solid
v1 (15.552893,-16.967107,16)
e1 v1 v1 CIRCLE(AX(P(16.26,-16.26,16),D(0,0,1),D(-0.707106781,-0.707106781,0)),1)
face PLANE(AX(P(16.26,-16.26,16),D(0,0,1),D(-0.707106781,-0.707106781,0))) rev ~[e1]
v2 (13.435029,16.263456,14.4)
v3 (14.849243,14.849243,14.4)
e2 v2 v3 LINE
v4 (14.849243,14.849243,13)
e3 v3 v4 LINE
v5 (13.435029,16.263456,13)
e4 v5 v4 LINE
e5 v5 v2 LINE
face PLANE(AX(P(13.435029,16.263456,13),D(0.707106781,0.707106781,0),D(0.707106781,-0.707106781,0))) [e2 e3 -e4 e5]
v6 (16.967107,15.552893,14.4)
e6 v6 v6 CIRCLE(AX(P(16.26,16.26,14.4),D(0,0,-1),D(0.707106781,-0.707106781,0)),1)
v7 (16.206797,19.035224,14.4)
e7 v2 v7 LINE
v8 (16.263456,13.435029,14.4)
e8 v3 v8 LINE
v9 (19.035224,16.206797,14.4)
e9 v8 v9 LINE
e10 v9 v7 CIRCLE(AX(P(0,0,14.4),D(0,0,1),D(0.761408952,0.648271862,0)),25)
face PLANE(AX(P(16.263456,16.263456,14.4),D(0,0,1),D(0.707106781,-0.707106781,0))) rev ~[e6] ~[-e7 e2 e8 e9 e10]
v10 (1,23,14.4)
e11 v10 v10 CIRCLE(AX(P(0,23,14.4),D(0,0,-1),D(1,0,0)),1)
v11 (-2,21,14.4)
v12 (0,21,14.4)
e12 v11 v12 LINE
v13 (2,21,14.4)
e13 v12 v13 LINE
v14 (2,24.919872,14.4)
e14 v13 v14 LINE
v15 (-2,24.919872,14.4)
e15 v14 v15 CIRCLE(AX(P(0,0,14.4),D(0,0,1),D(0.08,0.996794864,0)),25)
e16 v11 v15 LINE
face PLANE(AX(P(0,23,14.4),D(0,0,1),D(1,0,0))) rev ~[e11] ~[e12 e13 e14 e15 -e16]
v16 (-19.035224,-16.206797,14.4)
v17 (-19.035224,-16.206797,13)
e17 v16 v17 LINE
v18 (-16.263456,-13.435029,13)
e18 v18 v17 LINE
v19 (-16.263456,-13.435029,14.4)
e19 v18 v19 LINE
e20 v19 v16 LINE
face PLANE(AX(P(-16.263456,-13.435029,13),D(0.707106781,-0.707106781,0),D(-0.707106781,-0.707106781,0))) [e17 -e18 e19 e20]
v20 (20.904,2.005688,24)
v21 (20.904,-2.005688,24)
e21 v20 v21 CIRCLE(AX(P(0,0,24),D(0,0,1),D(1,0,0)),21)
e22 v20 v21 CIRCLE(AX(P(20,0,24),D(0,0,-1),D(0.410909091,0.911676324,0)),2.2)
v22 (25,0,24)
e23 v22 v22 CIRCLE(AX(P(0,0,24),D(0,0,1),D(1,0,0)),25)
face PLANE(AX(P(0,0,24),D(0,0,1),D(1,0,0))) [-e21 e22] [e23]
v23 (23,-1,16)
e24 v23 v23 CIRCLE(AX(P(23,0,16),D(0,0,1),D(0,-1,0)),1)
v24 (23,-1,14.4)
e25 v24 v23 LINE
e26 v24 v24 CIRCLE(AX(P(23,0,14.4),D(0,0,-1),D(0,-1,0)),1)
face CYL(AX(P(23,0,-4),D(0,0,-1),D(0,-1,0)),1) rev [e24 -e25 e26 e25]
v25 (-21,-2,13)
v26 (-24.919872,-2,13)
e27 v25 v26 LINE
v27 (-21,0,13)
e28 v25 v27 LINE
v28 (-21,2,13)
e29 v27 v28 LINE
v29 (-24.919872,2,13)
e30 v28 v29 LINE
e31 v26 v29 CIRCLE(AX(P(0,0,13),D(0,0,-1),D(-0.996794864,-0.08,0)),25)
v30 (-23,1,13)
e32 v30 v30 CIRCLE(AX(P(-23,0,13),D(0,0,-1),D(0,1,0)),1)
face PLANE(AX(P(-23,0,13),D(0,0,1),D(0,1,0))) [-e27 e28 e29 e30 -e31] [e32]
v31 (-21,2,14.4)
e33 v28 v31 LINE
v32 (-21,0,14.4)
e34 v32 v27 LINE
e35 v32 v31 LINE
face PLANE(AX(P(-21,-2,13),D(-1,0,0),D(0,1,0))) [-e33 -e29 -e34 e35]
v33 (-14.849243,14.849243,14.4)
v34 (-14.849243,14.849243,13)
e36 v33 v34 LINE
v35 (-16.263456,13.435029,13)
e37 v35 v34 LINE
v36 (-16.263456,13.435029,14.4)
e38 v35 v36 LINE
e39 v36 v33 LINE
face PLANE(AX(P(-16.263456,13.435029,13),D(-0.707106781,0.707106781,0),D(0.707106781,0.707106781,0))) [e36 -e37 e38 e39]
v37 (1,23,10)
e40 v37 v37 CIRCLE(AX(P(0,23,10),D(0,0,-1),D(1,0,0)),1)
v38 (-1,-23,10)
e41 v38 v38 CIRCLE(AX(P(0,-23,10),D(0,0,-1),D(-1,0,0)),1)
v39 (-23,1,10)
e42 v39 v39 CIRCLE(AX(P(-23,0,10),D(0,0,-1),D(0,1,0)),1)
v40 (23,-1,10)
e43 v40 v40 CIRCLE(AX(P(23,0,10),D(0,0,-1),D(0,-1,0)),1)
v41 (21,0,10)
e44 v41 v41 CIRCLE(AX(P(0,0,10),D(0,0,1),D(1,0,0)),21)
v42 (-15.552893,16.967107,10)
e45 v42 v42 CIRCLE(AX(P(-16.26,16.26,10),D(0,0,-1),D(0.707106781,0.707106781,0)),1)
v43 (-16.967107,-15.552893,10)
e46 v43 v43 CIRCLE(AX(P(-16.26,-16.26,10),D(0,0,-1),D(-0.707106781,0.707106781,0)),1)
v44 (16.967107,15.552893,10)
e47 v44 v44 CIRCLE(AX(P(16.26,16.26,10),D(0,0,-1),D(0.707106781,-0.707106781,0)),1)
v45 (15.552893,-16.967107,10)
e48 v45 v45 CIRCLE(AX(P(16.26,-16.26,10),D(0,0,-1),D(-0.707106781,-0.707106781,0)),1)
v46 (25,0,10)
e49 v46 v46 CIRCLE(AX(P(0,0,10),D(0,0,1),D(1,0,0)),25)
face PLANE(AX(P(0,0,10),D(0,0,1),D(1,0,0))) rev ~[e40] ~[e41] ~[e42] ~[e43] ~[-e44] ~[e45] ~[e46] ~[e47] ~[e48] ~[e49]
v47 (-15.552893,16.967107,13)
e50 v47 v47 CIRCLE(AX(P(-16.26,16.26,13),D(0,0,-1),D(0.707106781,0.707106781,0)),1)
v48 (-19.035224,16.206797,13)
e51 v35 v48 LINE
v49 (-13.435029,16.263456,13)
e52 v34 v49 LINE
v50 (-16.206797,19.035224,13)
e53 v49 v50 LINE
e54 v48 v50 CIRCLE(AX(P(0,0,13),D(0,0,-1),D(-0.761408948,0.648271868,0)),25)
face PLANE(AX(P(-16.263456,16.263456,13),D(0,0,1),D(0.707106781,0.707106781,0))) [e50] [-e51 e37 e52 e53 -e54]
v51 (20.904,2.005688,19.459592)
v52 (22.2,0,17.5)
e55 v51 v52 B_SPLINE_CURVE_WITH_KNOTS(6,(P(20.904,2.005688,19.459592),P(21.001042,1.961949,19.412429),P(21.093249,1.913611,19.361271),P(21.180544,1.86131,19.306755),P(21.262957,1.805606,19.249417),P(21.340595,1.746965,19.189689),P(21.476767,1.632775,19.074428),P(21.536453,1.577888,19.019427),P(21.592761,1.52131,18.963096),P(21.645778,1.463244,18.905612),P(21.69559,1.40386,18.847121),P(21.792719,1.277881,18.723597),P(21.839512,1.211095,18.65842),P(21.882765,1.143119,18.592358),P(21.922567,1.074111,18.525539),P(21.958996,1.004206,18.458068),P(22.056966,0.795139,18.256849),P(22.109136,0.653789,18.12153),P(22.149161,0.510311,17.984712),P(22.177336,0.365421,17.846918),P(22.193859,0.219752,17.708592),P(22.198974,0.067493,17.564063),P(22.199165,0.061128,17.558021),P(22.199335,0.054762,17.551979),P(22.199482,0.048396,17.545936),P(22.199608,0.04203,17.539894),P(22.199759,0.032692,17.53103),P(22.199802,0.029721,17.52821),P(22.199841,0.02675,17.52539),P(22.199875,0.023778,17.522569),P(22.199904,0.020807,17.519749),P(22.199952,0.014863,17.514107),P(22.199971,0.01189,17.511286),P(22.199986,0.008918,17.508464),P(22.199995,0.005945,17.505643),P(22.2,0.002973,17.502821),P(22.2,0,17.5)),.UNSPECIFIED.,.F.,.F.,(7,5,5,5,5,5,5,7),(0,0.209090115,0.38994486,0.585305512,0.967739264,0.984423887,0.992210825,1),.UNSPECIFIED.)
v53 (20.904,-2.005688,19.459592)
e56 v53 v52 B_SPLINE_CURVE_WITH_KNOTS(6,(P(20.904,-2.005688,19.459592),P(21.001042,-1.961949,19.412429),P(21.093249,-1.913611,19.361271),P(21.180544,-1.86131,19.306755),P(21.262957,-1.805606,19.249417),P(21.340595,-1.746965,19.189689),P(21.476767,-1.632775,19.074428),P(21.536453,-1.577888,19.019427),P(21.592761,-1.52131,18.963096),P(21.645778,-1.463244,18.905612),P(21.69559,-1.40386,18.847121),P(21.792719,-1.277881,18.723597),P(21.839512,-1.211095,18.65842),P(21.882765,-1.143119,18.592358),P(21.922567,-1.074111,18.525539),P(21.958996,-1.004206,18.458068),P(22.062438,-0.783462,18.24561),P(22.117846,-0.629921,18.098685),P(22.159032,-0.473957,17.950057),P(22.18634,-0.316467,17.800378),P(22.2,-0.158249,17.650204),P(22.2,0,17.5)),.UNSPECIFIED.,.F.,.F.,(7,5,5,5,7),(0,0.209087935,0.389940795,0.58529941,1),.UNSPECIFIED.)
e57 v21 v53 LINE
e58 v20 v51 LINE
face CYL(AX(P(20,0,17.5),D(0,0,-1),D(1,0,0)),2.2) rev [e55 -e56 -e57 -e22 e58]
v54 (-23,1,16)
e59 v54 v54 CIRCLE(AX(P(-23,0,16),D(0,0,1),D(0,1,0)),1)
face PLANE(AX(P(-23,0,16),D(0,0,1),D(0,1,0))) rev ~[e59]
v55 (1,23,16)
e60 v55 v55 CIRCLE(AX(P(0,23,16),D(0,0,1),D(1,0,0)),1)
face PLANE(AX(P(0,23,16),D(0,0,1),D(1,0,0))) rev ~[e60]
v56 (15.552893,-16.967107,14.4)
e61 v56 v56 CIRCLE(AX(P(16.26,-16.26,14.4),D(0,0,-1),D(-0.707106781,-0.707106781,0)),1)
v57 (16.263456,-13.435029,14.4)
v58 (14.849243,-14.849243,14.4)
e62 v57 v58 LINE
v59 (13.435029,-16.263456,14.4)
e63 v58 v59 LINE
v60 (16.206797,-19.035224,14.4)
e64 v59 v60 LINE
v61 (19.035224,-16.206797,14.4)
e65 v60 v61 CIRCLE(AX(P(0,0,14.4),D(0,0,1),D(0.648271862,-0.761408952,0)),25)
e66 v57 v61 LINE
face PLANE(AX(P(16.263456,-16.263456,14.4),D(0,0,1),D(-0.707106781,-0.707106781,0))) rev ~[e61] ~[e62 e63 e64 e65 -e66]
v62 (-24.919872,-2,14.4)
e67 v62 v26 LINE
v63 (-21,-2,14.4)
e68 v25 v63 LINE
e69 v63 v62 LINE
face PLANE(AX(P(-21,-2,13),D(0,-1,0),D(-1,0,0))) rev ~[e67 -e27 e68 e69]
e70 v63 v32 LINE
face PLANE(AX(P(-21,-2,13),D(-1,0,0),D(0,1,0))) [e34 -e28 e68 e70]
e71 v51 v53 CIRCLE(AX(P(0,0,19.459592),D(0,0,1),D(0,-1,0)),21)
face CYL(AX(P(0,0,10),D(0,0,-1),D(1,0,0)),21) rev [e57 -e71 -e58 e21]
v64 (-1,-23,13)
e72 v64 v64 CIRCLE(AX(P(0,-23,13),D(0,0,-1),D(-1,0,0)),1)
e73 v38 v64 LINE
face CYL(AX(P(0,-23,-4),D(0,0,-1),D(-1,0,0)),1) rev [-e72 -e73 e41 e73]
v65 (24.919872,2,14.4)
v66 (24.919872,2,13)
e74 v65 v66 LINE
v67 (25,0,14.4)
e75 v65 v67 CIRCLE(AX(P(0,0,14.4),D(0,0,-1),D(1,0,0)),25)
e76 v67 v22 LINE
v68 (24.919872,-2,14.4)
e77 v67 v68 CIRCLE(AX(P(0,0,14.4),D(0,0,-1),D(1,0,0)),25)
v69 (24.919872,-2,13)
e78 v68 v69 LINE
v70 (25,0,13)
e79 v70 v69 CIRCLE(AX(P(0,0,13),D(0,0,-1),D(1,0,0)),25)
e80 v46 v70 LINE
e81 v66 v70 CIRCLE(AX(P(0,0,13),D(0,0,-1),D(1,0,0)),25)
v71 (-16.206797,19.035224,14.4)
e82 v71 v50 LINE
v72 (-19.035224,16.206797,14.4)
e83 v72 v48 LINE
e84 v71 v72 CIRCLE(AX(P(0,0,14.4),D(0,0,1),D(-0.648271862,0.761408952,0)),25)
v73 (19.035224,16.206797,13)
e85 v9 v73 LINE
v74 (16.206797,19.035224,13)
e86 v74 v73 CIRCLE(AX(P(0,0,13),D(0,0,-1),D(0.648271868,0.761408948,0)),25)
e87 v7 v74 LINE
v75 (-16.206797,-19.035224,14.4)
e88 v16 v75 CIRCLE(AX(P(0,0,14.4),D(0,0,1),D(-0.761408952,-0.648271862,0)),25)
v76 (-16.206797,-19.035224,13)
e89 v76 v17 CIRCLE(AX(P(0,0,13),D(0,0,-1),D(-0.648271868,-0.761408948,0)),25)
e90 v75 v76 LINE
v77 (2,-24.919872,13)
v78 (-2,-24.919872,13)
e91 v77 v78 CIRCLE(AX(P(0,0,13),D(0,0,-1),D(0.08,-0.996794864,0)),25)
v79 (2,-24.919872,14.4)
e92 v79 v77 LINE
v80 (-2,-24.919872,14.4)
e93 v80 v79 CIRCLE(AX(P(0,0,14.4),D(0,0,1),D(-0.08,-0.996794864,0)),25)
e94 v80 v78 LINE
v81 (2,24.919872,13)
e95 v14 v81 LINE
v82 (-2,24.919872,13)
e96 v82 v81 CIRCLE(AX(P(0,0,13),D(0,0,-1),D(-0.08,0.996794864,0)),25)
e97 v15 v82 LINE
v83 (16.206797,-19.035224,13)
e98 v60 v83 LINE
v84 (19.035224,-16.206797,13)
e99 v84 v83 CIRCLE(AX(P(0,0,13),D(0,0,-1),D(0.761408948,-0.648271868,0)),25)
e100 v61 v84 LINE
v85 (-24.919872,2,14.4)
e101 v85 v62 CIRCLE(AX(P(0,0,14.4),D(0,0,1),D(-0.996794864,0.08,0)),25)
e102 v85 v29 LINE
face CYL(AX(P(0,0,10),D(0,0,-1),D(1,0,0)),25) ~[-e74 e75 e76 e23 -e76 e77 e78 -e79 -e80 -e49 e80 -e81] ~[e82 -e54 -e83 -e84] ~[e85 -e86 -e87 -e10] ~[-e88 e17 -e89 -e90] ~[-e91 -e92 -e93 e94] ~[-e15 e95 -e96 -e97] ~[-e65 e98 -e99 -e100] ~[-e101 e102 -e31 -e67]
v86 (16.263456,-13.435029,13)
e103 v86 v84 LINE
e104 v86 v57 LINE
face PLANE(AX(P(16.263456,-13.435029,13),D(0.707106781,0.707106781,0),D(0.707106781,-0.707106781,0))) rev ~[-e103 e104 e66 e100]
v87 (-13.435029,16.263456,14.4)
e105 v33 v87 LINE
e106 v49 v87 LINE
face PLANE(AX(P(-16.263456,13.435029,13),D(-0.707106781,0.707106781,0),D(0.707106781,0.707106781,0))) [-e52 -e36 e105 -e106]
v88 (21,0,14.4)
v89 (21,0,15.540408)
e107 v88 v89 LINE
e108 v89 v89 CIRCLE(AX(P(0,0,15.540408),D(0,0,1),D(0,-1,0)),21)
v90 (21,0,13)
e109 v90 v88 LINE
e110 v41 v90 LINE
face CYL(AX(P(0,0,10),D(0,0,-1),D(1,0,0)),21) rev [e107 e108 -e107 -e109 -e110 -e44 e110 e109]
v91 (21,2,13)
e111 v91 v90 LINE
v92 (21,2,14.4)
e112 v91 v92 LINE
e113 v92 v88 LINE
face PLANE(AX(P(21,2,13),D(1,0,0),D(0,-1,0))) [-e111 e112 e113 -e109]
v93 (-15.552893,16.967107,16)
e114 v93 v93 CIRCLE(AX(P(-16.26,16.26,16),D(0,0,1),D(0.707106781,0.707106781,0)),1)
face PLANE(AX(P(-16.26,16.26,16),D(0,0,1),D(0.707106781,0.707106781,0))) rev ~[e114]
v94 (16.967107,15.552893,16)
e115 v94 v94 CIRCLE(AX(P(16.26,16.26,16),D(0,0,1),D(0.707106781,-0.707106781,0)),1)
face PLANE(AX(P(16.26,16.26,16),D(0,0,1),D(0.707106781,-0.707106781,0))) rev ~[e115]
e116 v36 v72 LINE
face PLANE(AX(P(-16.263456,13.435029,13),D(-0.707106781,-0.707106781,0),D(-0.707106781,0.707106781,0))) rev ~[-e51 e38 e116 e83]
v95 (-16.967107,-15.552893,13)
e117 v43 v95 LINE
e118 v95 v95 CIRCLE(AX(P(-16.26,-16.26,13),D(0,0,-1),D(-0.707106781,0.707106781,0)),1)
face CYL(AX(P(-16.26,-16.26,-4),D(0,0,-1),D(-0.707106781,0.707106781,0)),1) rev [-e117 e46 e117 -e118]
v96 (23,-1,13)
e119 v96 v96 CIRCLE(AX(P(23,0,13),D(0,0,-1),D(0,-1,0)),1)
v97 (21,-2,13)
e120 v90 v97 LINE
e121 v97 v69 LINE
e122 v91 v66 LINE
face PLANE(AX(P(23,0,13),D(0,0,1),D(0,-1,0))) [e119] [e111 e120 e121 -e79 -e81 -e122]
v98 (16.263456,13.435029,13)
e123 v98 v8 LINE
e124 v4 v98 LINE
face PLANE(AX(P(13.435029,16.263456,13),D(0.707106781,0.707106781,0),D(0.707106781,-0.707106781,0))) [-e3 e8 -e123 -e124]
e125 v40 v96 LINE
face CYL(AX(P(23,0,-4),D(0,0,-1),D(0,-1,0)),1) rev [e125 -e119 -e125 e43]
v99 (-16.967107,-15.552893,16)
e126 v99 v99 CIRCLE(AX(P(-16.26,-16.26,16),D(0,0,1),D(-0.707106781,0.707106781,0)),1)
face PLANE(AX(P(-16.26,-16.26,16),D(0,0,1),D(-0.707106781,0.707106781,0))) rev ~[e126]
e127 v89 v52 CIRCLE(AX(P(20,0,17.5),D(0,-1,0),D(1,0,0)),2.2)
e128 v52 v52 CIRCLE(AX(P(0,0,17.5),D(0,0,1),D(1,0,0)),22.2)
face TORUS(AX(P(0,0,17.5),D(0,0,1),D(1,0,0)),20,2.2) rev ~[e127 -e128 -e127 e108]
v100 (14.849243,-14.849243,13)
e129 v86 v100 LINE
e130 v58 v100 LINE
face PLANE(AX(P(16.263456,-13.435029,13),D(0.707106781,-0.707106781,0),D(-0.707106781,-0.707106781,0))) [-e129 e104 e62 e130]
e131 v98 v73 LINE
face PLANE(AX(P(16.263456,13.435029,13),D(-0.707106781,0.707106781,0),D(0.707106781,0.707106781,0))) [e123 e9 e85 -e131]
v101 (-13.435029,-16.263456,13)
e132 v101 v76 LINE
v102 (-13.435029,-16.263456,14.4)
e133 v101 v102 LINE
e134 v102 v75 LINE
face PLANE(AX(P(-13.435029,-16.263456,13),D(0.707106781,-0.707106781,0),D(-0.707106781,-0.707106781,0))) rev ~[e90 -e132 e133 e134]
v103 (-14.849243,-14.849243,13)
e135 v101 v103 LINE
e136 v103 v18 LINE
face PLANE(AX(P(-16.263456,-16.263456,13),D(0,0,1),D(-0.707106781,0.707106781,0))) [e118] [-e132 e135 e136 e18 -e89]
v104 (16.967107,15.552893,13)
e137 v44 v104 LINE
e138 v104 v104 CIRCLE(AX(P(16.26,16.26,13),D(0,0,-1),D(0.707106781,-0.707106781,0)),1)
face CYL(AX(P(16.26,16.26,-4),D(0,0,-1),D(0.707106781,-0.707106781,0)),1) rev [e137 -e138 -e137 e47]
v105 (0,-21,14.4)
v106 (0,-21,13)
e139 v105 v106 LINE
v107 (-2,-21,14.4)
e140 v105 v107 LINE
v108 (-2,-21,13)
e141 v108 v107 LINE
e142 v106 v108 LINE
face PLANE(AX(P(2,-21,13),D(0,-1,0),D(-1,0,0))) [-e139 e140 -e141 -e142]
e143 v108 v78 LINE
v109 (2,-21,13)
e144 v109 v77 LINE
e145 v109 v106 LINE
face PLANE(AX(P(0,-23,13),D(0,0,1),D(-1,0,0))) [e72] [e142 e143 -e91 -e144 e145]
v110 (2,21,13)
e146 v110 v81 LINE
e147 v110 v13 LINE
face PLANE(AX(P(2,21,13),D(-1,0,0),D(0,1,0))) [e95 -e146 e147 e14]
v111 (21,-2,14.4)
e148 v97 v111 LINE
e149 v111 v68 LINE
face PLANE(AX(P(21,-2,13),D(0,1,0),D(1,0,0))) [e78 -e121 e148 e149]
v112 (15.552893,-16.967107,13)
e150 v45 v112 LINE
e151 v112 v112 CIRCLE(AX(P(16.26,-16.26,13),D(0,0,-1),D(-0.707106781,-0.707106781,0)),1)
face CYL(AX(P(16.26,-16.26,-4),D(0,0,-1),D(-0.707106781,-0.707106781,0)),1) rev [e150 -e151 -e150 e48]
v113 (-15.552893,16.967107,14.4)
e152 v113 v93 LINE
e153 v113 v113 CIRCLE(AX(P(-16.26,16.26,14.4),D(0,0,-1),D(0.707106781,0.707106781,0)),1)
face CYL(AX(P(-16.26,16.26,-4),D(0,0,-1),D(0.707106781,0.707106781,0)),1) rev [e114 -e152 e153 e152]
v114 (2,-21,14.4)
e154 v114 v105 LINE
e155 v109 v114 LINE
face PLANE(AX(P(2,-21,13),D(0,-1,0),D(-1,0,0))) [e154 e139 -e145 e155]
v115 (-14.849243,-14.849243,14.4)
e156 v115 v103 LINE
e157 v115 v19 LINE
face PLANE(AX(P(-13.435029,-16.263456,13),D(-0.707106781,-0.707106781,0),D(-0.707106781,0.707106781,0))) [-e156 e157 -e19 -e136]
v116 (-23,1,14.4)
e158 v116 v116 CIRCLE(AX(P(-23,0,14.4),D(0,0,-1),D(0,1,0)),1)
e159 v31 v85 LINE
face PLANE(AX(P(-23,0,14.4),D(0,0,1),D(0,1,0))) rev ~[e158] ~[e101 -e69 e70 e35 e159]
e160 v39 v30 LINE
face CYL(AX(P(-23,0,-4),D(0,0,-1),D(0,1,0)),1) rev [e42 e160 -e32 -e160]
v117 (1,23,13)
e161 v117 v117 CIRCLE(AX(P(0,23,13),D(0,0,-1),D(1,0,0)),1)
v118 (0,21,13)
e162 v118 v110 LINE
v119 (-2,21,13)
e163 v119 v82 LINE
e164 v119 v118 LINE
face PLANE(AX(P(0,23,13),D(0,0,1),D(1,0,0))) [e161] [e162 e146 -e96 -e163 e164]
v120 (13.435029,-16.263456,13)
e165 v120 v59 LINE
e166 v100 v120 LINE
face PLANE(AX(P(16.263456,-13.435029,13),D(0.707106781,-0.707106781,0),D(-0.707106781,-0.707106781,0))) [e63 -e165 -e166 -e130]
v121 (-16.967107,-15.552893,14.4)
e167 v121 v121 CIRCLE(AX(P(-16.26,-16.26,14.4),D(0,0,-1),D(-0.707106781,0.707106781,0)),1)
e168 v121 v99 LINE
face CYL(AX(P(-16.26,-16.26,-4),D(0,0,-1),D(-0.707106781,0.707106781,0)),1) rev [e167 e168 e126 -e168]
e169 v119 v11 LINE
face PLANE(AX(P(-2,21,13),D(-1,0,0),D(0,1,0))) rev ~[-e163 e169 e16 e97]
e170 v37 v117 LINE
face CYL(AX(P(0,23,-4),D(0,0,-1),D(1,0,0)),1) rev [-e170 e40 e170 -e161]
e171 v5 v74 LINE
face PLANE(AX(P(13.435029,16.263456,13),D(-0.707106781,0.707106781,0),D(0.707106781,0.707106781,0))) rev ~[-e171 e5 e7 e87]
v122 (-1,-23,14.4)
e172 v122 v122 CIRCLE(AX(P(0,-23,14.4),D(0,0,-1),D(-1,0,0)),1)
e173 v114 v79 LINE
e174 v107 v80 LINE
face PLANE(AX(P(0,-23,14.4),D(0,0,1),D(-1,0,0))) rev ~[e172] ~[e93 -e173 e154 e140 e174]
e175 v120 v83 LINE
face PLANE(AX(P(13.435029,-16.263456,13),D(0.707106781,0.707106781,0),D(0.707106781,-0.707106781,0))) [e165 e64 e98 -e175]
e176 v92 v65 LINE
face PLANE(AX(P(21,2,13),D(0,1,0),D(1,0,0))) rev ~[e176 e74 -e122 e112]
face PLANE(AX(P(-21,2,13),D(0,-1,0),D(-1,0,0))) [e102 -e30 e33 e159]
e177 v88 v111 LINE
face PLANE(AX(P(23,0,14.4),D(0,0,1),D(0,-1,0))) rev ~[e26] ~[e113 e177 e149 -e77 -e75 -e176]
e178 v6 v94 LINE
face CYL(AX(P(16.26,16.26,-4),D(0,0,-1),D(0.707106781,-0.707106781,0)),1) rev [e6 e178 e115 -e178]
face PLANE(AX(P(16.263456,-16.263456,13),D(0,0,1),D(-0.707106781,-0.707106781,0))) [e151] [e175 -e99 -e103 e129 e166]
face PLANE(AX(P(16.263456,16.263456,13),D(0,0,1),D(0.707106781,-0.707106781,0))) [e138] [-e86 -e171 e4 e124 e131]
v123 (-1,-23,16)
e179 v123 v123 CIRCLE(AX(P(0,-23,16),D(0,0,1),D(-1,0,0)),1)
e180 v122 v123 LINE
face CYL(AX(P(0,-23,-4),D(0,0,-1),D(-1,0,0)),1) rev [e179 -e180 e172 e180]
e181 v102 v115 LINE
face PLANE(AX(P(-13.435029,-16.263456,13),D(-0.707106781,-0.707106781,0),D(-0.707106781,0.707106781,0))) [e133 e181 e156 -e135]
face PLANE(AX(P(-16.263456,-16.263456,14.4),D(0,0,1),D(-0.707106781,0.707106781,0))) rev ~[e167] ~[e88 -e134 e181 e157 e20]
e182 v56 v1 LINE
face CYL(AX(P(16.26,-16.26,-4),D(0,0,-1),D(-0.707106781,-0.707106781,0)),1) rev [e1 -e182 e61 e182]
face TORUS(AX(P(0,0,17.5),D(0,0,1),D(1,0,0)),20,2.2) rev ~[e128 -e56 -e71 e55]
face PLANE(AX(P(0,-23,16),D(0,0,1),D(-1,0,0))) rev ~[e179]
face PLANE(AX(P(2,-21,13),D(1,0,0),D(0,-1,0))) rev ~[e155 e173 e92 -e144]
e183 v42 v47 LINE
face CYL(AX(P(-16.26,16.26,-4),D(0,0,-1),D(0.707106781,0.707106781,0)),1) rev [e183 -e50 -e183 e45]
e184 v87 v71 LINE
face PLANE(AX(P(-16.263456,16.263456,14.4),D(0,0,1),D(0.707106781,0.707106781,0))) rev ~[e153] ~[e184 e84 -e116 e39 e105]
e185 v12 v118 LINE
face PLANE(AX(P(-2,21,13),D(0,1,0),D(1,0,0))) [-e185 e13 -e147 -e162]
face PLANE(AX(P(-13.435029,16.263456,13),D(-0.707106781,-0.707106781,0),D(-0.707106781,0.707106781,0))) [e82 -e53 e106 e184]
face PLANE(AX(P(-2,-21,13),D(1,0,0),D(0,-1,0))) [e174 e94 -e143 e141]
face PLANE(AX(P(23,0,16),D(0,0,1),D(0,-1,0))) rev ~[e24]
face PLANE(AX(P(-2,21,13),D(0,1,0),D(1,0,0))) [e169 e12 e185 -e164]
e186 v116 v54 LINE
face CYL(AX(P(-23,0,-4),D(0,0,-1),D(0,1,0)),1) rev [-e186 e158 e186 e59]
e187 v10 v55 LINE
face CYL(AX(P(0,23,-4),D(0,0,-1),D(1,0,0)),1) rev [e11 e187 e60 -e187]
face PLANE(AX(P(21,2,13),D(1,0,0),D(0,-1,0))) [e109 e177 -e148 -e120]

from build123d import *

# Parameters (mm, degrees)
CYLINDER2755_R               = 2.2
CYLINDER2755_DEPTH           = 10
CYLINDER2763_R               = 1
CYLINDER2763_DEPTH           = 20
CYLINDER2763_PLACEMENT_ANGLE = 45
CYLINDER2762_R               = 1
CYLINDER2762_DEPTH           = 20
CYLINDER2760_R               = 1
CYLINDER2760_DEPTH           = 20
CYLINDER2761_R               = 1
CYLINDER2761_DEPTH           = 20
CYLINDER2761_PLACEMENT_ANGLE = 225
CYLINDER2759_R               = 1
CYLINDER2759_DEPTH           = 20
CYLINDER2759_PLACEMENT_ANGLE = 135
CYLINDER2757_R               = 1
CYLINDER2757_DEPTH           = 20
CYLINDER2757_PLACEMENT_ANGLE = 45
CYLINDER2758_R               = 1
CYLINDER2758_DEPTH           = 20
CYLINDER2756_R               = 1
CYLINDER2756_DEPTH           = 20
BOX953_W                     = 4
BOX953_H                     = 4
BOX953_DEPTH                 = 1.4
BOX953_PLACEMENT_ANGLE       = 45
BOX954_W                     = 4
BOX954_H                     = 4
BOX954_DEPTH                 = 1.4
BOX955_W                     = 4
BOX955_H                     = 4
BOX955_DEPTH                 = 1.4
BOX955_PLACEMENT_ANGLE       = 135
BOX956_W                     = 4
BOX956_H                     = 4
BOX956_DEPTH                 = 1.4
BOX957_W                     = 4
BOX957_H                     = 4
BOX957_DEPTH                 = 1.4
BOX957_PLACEMENT_ANGLE       = 225
BOX958_W                     = 4
BOX958_H                     = 4
BOX958_DEPTH                 = 1.4
BOX959_W                     = 4
BOX959_H                     = 4
BOX959_DEPTH                 = 1.4
BOX959_PLACEMENT_ANGLE       = 45
BOX952_W                     = 4
BOX952_H                     = 4
BOX952_DEPTH                 = 1.4
TORUS006_R                   = 2.2
TUBE134_R                    = 25
TUBE134_R_2                  = 21
TUBE134_DEPTH                = 14


with BuildPart() as v_lec2725:
    # Cylinder2755 → Cylinder2755 (new body)
    with BuildSketch(Plane(origin=(20, 0, 17.5), x_dir=(1, 0, 0), z_dir=(0, 0, 1))):
        Circle(CYLINDER2755_R)
    extrude(amount=CYLINDER2755_DEPTH)


with BuildPart() as v_lec2733:
    # Cylinder2763 → Cylinder2763 (new body)
    with BuildSketch(Plane.XY):
        Circle(CYLINDER2763_R)
    extrude(amount=CYLINDER2763_DEPTH)


with BuildPart() as v_lec2733_1:
    # Cylinder2763 placement: moved
    add(v_lec2733.part.moved(Location((16.26, 16.26, 8))).rotate(Axis((16.26, 16.26, 8), (0, 0, -1)), CYLINDER2763_PLACEMENT_ANGLE))


with BuildPart() as v_lec2732:
    # Cylinder2762 → Cylinder2762 (new body)
    with BuildSketch(Plane(origin=(23, 0, 8), x_dir=(0, -1, 0), z_dir=(0, 0, 1))):
        Circle(CYLINDER2762_R)
    extrude(amount=CYLINDER2762_DEPTH)


with BuildPart() as v_lec2730:
    # Cylinder2760 → Cylinder2760 (new body)
    with BuildSketch(Plane(origin=(0, -23, 8), x_dir=(-1, 0, 0), z_dir=(0, 0, 1))):
        Circle(CYLINDER2760_R)
    extrude(amount=CYLINDER2760_DEPTH)


with BuildPart() as v_lec2731:
    # Cylinder2761 → Cylinder2761 (new body)
    with BuildSketch(Plane.XY):
        Circle(CYLINDER2761_R)
    extrude(amount=CYLINDER2761_DEPTH)


with BuildPart() as v_lec2731_1:
    # Cylinder2761 placement: moved
    add(v_lec2731.part.moved(Location((16.26, -16.26, 8))).rotate(Axis((16.26, -16.26, 8), (0, 0, 1)), CYLINDER2761_PLACEMENT_ANGLE))


with BuildPart() as v_lec2729:
    # Cylinder2759 → Cylinder2759 (new body)
    with BuildSketch(Plane.XY):
        Circle(CYLINDER2759_R)
    extrude(amount=CYLINDER2759_DEPTH)


with BuildPart() as v_lec2729_1:
    # Cylinder2759 placement: moved
    add(v_lec2729.part.moved(Location((-16.26, -16.26, 8))).rotate(Axis((-16.26, -16.26, 8), (0, 0, 1)), CYLINDER2759_PLACEMENT_ANGLE))


with BuildPart() as v_lec2727:
    # Cylinder2757 → Cylinder2757 (new body)
    with BuildSketch(Plane.XY):
        Circle(CYLINDER2757_R)
    extrude(amount=CYLINDER2757_DEPTH)


with BuildPart() as v_lec2727_1:
    # Cylinder2757 placement: moved
    add(v_lec2727.part.moved(Location((-16.26, 16.26, 8))).rotate(Axis((-16.26, 16.26, 8), (0, 0, 1)), CYLINDER2757_PLACEMENT_ANGLE))


with BuildPart() as v_lec2728:
    # Cylinder2758 → Cylinder2758 (new body)
    with BuildSketch(Plane(origin=(-23, 0, 8), x_dir=(0, 1, 0), z_dir=(0, 0, 1))):
        Circle(CYLINDER2758_R)
    extrude(amount=CYLINDER2758_DEPTH)


with BuildPart() as compound1233:
    # Cylinder2756 → Cylinder2756 (new body)
    with BuildSketch(Plane(origin=(0, 23, 8), x_dir=(1, 0, 0), z_dir=(0, 0, 1))):
        Circle(CYLINDER2756_R)
    extrude(amount=CYLINDER2756_DEPTH)

    # Compound1233: union Válec2733, Válec2732, Válec2730, Válec2731, Válec2729, Válec2727, Válec2728
    add(v_lec2733_1.part)
    add(v_lec2732.part)
    add(v_lec2730.part)
    add(v_lec2731_1.part)
    add(v_lec2729_1.part)
    add(v_lec2727_1.part)
    add(v_lec2728.part)


with BuildPart() as compound1233_1:
    # Compound1233 placement: moved
    add(compound1233.part.moved(Location((0, 0, -12))))


with BuildPart() as krychle952:
    # Box953 → Box953 (new body)
    with BuildSketch(Plane.XY):
        with Locations((2, 2)):
            Rectangle(BOX953_W, BOX953_H)
    extrude(amount=BOX953_DEPTH)


with BuildPart() as krychle952_1:
    # Box953 placement: moved
    add(krychle952.part.moved(Location((-16.263456, 13.435029, 14))).rotate(Axis((-16.263456, 13.435029, 14), (0, 0, 1)), BOX953_PLACEMENT_ANGLE))


with BuildPart() as krychle953:
    # Box954 → Box954 (new body)
    with BuildSketch(Plane(origin=(-21, -2, 14), x_dir=(0, 1, 0), z_dir=(0, 0, 1))):
        with Locations((2, 2)):
            Rectangle(BOX954_W, BOX954_H)
    extrude(amount=BOX954_DEPTH)


with BuildPart() as krychle954:
    # Box955 → Box955 (new body)
    with BuildSketch(Plane.XY):
        with Locations((2, 2)):
            Rectangle(BOX955_W, BOX955_H)
    extrude(amount=BOX955_DEPTH)


with BuildPart() as krychle954_1:
    # Box955 placement: moved
    add(krychle954.part.moved(Location((-13.435029, -16.263456, 14))).rotate(Axis((-13.435029, -16.263456, 14), (0, 0, 1)), BOX955_PLACEMENT_ANGLE))


with BuildPart() as krychle955:
    # Box956 → Box956 (new body)
    with BuildSketch(Plane(origin=(2, -21, 14), x_dir=(-1, 0, 0), z_dir=(0, 0, 1))):
        with Locations((2, 2)):
            Rectangle(BOX956_W, BOX956_H)
    extrude(amount=BOX956_DEPTH)


with BuildPart() as krychle956:
    # Box957 → Box957 (new body)
    with BuildSketch(Plane.XY):
        with Locations((2, 2)):
            Rectangle(BOX957_W, BOX957_H)
    extrude(amount=BOX957_DEPTH)


with BuildPart() as krychle956_1:
    # Box957 placement: moved
    add(krychle956.part.moved(Location((16.263456, -13.435029, 14))).rotate(Axis((16.263456, -13.435029, 14), (0, 0, 1)), BOX957_PLACEMENT_ANGLE))


with BuildPart() as krychle957:
    # Box958 → Box958 (new body)
    with BuildSketch(Plane(origin=(21, 2, 14), x_dir=(0, -1, 0), z_dir=(0, 0, 1))):
        with Locations((2, 2)):
            Rectangle(BOX958_W, BOX958_H)
    extrude(amount=BOX958_DEPTH)


with BuildPart() as krychle958:
    # Box959 → Box959 (new body)
    with BuildSketch(Plane.XY):
        with Locations((2, 2)):
            Rectangle(BOX959_W, BOX959_H)
    extrude(amount=BOX959_DEPTH)


with BuildPart() as krychle958_1:
    # Box959 placement: moved
    add(krychle958.part.moved(Location((13.435029, 16.263456, 14))).rotate(Axis((13.435029, 16.263456, 14), (0, 0, -1)), BOX959_PLACEMENT_ANGLE))


with BuildPart() as compound1234:
    # Box952 → Box952 (new body)
    with BuildSketch(Plane(origin=(-2, 21, 14), x_dir=(1, 0, 0), z_dir=(0, 0, 1))):
        with Locations((2, 2)):
            Rectangle(BOX952_W, BOX952_H)
    extrude(amount=BOX952_DEPTH)

    # Compound1234: union Krychle952, Krychle953, Krychle954, Krychle955, Krychle956, Krychle957, Krychle958
    add(krychle952_1.part)
    add(krychle953.part)
    add(krychle954_1.part)
    add(krychle955.part)
    add(krychle956_1.part)
    add(krychle957.part)
    add(krychle958_1.part)


with BuildPart() as compound1234_1:
    # Compound1234 placement: moved
    add(compound1234.part.moved(Location((0, 0, -1))))


with BuildPart() as anuloid006:
    # Torus006 → Torus006 (revolve)
    with BuildSketch(Plane(origin=(0, 0, 17.5), x_dir=(1, 0, 0), z_dir=(0, -1, 0))):
        with Locations((20, 0)):
            Circle(TORUS006_R)
    revolve(axis=Axis((0, 0, 17.5), (0, 0, 1)))


with BuildPart() as cut1041:
    # Tube134 → Tube134 (new body)
    with BuildSketch(Plane.XY.offset(10)):
        Circle(TUBE134_R)
        Circle(TUBE134_R_2, mode=Mode.SUBTRACT)
    extrude(amount=TUBE134_DEPTH)

    # Cut1040: cut Anuloid006
    add(anuloid006.part, mode=Mode.SUBTRACT)

    # Cut1039: cut Compound1234
    add(compound1234_1.part, mode=Mode.SUBTRACT)

    # Cut1038: cut Compound1233
    add(compound1233_1.part, mode=Mode.SUBTRACT)

    # Cut1041: cut Válec2725
    add(v_lec2725.part, mode=Mode.SUBTRACT)


solid = cut1041.part
